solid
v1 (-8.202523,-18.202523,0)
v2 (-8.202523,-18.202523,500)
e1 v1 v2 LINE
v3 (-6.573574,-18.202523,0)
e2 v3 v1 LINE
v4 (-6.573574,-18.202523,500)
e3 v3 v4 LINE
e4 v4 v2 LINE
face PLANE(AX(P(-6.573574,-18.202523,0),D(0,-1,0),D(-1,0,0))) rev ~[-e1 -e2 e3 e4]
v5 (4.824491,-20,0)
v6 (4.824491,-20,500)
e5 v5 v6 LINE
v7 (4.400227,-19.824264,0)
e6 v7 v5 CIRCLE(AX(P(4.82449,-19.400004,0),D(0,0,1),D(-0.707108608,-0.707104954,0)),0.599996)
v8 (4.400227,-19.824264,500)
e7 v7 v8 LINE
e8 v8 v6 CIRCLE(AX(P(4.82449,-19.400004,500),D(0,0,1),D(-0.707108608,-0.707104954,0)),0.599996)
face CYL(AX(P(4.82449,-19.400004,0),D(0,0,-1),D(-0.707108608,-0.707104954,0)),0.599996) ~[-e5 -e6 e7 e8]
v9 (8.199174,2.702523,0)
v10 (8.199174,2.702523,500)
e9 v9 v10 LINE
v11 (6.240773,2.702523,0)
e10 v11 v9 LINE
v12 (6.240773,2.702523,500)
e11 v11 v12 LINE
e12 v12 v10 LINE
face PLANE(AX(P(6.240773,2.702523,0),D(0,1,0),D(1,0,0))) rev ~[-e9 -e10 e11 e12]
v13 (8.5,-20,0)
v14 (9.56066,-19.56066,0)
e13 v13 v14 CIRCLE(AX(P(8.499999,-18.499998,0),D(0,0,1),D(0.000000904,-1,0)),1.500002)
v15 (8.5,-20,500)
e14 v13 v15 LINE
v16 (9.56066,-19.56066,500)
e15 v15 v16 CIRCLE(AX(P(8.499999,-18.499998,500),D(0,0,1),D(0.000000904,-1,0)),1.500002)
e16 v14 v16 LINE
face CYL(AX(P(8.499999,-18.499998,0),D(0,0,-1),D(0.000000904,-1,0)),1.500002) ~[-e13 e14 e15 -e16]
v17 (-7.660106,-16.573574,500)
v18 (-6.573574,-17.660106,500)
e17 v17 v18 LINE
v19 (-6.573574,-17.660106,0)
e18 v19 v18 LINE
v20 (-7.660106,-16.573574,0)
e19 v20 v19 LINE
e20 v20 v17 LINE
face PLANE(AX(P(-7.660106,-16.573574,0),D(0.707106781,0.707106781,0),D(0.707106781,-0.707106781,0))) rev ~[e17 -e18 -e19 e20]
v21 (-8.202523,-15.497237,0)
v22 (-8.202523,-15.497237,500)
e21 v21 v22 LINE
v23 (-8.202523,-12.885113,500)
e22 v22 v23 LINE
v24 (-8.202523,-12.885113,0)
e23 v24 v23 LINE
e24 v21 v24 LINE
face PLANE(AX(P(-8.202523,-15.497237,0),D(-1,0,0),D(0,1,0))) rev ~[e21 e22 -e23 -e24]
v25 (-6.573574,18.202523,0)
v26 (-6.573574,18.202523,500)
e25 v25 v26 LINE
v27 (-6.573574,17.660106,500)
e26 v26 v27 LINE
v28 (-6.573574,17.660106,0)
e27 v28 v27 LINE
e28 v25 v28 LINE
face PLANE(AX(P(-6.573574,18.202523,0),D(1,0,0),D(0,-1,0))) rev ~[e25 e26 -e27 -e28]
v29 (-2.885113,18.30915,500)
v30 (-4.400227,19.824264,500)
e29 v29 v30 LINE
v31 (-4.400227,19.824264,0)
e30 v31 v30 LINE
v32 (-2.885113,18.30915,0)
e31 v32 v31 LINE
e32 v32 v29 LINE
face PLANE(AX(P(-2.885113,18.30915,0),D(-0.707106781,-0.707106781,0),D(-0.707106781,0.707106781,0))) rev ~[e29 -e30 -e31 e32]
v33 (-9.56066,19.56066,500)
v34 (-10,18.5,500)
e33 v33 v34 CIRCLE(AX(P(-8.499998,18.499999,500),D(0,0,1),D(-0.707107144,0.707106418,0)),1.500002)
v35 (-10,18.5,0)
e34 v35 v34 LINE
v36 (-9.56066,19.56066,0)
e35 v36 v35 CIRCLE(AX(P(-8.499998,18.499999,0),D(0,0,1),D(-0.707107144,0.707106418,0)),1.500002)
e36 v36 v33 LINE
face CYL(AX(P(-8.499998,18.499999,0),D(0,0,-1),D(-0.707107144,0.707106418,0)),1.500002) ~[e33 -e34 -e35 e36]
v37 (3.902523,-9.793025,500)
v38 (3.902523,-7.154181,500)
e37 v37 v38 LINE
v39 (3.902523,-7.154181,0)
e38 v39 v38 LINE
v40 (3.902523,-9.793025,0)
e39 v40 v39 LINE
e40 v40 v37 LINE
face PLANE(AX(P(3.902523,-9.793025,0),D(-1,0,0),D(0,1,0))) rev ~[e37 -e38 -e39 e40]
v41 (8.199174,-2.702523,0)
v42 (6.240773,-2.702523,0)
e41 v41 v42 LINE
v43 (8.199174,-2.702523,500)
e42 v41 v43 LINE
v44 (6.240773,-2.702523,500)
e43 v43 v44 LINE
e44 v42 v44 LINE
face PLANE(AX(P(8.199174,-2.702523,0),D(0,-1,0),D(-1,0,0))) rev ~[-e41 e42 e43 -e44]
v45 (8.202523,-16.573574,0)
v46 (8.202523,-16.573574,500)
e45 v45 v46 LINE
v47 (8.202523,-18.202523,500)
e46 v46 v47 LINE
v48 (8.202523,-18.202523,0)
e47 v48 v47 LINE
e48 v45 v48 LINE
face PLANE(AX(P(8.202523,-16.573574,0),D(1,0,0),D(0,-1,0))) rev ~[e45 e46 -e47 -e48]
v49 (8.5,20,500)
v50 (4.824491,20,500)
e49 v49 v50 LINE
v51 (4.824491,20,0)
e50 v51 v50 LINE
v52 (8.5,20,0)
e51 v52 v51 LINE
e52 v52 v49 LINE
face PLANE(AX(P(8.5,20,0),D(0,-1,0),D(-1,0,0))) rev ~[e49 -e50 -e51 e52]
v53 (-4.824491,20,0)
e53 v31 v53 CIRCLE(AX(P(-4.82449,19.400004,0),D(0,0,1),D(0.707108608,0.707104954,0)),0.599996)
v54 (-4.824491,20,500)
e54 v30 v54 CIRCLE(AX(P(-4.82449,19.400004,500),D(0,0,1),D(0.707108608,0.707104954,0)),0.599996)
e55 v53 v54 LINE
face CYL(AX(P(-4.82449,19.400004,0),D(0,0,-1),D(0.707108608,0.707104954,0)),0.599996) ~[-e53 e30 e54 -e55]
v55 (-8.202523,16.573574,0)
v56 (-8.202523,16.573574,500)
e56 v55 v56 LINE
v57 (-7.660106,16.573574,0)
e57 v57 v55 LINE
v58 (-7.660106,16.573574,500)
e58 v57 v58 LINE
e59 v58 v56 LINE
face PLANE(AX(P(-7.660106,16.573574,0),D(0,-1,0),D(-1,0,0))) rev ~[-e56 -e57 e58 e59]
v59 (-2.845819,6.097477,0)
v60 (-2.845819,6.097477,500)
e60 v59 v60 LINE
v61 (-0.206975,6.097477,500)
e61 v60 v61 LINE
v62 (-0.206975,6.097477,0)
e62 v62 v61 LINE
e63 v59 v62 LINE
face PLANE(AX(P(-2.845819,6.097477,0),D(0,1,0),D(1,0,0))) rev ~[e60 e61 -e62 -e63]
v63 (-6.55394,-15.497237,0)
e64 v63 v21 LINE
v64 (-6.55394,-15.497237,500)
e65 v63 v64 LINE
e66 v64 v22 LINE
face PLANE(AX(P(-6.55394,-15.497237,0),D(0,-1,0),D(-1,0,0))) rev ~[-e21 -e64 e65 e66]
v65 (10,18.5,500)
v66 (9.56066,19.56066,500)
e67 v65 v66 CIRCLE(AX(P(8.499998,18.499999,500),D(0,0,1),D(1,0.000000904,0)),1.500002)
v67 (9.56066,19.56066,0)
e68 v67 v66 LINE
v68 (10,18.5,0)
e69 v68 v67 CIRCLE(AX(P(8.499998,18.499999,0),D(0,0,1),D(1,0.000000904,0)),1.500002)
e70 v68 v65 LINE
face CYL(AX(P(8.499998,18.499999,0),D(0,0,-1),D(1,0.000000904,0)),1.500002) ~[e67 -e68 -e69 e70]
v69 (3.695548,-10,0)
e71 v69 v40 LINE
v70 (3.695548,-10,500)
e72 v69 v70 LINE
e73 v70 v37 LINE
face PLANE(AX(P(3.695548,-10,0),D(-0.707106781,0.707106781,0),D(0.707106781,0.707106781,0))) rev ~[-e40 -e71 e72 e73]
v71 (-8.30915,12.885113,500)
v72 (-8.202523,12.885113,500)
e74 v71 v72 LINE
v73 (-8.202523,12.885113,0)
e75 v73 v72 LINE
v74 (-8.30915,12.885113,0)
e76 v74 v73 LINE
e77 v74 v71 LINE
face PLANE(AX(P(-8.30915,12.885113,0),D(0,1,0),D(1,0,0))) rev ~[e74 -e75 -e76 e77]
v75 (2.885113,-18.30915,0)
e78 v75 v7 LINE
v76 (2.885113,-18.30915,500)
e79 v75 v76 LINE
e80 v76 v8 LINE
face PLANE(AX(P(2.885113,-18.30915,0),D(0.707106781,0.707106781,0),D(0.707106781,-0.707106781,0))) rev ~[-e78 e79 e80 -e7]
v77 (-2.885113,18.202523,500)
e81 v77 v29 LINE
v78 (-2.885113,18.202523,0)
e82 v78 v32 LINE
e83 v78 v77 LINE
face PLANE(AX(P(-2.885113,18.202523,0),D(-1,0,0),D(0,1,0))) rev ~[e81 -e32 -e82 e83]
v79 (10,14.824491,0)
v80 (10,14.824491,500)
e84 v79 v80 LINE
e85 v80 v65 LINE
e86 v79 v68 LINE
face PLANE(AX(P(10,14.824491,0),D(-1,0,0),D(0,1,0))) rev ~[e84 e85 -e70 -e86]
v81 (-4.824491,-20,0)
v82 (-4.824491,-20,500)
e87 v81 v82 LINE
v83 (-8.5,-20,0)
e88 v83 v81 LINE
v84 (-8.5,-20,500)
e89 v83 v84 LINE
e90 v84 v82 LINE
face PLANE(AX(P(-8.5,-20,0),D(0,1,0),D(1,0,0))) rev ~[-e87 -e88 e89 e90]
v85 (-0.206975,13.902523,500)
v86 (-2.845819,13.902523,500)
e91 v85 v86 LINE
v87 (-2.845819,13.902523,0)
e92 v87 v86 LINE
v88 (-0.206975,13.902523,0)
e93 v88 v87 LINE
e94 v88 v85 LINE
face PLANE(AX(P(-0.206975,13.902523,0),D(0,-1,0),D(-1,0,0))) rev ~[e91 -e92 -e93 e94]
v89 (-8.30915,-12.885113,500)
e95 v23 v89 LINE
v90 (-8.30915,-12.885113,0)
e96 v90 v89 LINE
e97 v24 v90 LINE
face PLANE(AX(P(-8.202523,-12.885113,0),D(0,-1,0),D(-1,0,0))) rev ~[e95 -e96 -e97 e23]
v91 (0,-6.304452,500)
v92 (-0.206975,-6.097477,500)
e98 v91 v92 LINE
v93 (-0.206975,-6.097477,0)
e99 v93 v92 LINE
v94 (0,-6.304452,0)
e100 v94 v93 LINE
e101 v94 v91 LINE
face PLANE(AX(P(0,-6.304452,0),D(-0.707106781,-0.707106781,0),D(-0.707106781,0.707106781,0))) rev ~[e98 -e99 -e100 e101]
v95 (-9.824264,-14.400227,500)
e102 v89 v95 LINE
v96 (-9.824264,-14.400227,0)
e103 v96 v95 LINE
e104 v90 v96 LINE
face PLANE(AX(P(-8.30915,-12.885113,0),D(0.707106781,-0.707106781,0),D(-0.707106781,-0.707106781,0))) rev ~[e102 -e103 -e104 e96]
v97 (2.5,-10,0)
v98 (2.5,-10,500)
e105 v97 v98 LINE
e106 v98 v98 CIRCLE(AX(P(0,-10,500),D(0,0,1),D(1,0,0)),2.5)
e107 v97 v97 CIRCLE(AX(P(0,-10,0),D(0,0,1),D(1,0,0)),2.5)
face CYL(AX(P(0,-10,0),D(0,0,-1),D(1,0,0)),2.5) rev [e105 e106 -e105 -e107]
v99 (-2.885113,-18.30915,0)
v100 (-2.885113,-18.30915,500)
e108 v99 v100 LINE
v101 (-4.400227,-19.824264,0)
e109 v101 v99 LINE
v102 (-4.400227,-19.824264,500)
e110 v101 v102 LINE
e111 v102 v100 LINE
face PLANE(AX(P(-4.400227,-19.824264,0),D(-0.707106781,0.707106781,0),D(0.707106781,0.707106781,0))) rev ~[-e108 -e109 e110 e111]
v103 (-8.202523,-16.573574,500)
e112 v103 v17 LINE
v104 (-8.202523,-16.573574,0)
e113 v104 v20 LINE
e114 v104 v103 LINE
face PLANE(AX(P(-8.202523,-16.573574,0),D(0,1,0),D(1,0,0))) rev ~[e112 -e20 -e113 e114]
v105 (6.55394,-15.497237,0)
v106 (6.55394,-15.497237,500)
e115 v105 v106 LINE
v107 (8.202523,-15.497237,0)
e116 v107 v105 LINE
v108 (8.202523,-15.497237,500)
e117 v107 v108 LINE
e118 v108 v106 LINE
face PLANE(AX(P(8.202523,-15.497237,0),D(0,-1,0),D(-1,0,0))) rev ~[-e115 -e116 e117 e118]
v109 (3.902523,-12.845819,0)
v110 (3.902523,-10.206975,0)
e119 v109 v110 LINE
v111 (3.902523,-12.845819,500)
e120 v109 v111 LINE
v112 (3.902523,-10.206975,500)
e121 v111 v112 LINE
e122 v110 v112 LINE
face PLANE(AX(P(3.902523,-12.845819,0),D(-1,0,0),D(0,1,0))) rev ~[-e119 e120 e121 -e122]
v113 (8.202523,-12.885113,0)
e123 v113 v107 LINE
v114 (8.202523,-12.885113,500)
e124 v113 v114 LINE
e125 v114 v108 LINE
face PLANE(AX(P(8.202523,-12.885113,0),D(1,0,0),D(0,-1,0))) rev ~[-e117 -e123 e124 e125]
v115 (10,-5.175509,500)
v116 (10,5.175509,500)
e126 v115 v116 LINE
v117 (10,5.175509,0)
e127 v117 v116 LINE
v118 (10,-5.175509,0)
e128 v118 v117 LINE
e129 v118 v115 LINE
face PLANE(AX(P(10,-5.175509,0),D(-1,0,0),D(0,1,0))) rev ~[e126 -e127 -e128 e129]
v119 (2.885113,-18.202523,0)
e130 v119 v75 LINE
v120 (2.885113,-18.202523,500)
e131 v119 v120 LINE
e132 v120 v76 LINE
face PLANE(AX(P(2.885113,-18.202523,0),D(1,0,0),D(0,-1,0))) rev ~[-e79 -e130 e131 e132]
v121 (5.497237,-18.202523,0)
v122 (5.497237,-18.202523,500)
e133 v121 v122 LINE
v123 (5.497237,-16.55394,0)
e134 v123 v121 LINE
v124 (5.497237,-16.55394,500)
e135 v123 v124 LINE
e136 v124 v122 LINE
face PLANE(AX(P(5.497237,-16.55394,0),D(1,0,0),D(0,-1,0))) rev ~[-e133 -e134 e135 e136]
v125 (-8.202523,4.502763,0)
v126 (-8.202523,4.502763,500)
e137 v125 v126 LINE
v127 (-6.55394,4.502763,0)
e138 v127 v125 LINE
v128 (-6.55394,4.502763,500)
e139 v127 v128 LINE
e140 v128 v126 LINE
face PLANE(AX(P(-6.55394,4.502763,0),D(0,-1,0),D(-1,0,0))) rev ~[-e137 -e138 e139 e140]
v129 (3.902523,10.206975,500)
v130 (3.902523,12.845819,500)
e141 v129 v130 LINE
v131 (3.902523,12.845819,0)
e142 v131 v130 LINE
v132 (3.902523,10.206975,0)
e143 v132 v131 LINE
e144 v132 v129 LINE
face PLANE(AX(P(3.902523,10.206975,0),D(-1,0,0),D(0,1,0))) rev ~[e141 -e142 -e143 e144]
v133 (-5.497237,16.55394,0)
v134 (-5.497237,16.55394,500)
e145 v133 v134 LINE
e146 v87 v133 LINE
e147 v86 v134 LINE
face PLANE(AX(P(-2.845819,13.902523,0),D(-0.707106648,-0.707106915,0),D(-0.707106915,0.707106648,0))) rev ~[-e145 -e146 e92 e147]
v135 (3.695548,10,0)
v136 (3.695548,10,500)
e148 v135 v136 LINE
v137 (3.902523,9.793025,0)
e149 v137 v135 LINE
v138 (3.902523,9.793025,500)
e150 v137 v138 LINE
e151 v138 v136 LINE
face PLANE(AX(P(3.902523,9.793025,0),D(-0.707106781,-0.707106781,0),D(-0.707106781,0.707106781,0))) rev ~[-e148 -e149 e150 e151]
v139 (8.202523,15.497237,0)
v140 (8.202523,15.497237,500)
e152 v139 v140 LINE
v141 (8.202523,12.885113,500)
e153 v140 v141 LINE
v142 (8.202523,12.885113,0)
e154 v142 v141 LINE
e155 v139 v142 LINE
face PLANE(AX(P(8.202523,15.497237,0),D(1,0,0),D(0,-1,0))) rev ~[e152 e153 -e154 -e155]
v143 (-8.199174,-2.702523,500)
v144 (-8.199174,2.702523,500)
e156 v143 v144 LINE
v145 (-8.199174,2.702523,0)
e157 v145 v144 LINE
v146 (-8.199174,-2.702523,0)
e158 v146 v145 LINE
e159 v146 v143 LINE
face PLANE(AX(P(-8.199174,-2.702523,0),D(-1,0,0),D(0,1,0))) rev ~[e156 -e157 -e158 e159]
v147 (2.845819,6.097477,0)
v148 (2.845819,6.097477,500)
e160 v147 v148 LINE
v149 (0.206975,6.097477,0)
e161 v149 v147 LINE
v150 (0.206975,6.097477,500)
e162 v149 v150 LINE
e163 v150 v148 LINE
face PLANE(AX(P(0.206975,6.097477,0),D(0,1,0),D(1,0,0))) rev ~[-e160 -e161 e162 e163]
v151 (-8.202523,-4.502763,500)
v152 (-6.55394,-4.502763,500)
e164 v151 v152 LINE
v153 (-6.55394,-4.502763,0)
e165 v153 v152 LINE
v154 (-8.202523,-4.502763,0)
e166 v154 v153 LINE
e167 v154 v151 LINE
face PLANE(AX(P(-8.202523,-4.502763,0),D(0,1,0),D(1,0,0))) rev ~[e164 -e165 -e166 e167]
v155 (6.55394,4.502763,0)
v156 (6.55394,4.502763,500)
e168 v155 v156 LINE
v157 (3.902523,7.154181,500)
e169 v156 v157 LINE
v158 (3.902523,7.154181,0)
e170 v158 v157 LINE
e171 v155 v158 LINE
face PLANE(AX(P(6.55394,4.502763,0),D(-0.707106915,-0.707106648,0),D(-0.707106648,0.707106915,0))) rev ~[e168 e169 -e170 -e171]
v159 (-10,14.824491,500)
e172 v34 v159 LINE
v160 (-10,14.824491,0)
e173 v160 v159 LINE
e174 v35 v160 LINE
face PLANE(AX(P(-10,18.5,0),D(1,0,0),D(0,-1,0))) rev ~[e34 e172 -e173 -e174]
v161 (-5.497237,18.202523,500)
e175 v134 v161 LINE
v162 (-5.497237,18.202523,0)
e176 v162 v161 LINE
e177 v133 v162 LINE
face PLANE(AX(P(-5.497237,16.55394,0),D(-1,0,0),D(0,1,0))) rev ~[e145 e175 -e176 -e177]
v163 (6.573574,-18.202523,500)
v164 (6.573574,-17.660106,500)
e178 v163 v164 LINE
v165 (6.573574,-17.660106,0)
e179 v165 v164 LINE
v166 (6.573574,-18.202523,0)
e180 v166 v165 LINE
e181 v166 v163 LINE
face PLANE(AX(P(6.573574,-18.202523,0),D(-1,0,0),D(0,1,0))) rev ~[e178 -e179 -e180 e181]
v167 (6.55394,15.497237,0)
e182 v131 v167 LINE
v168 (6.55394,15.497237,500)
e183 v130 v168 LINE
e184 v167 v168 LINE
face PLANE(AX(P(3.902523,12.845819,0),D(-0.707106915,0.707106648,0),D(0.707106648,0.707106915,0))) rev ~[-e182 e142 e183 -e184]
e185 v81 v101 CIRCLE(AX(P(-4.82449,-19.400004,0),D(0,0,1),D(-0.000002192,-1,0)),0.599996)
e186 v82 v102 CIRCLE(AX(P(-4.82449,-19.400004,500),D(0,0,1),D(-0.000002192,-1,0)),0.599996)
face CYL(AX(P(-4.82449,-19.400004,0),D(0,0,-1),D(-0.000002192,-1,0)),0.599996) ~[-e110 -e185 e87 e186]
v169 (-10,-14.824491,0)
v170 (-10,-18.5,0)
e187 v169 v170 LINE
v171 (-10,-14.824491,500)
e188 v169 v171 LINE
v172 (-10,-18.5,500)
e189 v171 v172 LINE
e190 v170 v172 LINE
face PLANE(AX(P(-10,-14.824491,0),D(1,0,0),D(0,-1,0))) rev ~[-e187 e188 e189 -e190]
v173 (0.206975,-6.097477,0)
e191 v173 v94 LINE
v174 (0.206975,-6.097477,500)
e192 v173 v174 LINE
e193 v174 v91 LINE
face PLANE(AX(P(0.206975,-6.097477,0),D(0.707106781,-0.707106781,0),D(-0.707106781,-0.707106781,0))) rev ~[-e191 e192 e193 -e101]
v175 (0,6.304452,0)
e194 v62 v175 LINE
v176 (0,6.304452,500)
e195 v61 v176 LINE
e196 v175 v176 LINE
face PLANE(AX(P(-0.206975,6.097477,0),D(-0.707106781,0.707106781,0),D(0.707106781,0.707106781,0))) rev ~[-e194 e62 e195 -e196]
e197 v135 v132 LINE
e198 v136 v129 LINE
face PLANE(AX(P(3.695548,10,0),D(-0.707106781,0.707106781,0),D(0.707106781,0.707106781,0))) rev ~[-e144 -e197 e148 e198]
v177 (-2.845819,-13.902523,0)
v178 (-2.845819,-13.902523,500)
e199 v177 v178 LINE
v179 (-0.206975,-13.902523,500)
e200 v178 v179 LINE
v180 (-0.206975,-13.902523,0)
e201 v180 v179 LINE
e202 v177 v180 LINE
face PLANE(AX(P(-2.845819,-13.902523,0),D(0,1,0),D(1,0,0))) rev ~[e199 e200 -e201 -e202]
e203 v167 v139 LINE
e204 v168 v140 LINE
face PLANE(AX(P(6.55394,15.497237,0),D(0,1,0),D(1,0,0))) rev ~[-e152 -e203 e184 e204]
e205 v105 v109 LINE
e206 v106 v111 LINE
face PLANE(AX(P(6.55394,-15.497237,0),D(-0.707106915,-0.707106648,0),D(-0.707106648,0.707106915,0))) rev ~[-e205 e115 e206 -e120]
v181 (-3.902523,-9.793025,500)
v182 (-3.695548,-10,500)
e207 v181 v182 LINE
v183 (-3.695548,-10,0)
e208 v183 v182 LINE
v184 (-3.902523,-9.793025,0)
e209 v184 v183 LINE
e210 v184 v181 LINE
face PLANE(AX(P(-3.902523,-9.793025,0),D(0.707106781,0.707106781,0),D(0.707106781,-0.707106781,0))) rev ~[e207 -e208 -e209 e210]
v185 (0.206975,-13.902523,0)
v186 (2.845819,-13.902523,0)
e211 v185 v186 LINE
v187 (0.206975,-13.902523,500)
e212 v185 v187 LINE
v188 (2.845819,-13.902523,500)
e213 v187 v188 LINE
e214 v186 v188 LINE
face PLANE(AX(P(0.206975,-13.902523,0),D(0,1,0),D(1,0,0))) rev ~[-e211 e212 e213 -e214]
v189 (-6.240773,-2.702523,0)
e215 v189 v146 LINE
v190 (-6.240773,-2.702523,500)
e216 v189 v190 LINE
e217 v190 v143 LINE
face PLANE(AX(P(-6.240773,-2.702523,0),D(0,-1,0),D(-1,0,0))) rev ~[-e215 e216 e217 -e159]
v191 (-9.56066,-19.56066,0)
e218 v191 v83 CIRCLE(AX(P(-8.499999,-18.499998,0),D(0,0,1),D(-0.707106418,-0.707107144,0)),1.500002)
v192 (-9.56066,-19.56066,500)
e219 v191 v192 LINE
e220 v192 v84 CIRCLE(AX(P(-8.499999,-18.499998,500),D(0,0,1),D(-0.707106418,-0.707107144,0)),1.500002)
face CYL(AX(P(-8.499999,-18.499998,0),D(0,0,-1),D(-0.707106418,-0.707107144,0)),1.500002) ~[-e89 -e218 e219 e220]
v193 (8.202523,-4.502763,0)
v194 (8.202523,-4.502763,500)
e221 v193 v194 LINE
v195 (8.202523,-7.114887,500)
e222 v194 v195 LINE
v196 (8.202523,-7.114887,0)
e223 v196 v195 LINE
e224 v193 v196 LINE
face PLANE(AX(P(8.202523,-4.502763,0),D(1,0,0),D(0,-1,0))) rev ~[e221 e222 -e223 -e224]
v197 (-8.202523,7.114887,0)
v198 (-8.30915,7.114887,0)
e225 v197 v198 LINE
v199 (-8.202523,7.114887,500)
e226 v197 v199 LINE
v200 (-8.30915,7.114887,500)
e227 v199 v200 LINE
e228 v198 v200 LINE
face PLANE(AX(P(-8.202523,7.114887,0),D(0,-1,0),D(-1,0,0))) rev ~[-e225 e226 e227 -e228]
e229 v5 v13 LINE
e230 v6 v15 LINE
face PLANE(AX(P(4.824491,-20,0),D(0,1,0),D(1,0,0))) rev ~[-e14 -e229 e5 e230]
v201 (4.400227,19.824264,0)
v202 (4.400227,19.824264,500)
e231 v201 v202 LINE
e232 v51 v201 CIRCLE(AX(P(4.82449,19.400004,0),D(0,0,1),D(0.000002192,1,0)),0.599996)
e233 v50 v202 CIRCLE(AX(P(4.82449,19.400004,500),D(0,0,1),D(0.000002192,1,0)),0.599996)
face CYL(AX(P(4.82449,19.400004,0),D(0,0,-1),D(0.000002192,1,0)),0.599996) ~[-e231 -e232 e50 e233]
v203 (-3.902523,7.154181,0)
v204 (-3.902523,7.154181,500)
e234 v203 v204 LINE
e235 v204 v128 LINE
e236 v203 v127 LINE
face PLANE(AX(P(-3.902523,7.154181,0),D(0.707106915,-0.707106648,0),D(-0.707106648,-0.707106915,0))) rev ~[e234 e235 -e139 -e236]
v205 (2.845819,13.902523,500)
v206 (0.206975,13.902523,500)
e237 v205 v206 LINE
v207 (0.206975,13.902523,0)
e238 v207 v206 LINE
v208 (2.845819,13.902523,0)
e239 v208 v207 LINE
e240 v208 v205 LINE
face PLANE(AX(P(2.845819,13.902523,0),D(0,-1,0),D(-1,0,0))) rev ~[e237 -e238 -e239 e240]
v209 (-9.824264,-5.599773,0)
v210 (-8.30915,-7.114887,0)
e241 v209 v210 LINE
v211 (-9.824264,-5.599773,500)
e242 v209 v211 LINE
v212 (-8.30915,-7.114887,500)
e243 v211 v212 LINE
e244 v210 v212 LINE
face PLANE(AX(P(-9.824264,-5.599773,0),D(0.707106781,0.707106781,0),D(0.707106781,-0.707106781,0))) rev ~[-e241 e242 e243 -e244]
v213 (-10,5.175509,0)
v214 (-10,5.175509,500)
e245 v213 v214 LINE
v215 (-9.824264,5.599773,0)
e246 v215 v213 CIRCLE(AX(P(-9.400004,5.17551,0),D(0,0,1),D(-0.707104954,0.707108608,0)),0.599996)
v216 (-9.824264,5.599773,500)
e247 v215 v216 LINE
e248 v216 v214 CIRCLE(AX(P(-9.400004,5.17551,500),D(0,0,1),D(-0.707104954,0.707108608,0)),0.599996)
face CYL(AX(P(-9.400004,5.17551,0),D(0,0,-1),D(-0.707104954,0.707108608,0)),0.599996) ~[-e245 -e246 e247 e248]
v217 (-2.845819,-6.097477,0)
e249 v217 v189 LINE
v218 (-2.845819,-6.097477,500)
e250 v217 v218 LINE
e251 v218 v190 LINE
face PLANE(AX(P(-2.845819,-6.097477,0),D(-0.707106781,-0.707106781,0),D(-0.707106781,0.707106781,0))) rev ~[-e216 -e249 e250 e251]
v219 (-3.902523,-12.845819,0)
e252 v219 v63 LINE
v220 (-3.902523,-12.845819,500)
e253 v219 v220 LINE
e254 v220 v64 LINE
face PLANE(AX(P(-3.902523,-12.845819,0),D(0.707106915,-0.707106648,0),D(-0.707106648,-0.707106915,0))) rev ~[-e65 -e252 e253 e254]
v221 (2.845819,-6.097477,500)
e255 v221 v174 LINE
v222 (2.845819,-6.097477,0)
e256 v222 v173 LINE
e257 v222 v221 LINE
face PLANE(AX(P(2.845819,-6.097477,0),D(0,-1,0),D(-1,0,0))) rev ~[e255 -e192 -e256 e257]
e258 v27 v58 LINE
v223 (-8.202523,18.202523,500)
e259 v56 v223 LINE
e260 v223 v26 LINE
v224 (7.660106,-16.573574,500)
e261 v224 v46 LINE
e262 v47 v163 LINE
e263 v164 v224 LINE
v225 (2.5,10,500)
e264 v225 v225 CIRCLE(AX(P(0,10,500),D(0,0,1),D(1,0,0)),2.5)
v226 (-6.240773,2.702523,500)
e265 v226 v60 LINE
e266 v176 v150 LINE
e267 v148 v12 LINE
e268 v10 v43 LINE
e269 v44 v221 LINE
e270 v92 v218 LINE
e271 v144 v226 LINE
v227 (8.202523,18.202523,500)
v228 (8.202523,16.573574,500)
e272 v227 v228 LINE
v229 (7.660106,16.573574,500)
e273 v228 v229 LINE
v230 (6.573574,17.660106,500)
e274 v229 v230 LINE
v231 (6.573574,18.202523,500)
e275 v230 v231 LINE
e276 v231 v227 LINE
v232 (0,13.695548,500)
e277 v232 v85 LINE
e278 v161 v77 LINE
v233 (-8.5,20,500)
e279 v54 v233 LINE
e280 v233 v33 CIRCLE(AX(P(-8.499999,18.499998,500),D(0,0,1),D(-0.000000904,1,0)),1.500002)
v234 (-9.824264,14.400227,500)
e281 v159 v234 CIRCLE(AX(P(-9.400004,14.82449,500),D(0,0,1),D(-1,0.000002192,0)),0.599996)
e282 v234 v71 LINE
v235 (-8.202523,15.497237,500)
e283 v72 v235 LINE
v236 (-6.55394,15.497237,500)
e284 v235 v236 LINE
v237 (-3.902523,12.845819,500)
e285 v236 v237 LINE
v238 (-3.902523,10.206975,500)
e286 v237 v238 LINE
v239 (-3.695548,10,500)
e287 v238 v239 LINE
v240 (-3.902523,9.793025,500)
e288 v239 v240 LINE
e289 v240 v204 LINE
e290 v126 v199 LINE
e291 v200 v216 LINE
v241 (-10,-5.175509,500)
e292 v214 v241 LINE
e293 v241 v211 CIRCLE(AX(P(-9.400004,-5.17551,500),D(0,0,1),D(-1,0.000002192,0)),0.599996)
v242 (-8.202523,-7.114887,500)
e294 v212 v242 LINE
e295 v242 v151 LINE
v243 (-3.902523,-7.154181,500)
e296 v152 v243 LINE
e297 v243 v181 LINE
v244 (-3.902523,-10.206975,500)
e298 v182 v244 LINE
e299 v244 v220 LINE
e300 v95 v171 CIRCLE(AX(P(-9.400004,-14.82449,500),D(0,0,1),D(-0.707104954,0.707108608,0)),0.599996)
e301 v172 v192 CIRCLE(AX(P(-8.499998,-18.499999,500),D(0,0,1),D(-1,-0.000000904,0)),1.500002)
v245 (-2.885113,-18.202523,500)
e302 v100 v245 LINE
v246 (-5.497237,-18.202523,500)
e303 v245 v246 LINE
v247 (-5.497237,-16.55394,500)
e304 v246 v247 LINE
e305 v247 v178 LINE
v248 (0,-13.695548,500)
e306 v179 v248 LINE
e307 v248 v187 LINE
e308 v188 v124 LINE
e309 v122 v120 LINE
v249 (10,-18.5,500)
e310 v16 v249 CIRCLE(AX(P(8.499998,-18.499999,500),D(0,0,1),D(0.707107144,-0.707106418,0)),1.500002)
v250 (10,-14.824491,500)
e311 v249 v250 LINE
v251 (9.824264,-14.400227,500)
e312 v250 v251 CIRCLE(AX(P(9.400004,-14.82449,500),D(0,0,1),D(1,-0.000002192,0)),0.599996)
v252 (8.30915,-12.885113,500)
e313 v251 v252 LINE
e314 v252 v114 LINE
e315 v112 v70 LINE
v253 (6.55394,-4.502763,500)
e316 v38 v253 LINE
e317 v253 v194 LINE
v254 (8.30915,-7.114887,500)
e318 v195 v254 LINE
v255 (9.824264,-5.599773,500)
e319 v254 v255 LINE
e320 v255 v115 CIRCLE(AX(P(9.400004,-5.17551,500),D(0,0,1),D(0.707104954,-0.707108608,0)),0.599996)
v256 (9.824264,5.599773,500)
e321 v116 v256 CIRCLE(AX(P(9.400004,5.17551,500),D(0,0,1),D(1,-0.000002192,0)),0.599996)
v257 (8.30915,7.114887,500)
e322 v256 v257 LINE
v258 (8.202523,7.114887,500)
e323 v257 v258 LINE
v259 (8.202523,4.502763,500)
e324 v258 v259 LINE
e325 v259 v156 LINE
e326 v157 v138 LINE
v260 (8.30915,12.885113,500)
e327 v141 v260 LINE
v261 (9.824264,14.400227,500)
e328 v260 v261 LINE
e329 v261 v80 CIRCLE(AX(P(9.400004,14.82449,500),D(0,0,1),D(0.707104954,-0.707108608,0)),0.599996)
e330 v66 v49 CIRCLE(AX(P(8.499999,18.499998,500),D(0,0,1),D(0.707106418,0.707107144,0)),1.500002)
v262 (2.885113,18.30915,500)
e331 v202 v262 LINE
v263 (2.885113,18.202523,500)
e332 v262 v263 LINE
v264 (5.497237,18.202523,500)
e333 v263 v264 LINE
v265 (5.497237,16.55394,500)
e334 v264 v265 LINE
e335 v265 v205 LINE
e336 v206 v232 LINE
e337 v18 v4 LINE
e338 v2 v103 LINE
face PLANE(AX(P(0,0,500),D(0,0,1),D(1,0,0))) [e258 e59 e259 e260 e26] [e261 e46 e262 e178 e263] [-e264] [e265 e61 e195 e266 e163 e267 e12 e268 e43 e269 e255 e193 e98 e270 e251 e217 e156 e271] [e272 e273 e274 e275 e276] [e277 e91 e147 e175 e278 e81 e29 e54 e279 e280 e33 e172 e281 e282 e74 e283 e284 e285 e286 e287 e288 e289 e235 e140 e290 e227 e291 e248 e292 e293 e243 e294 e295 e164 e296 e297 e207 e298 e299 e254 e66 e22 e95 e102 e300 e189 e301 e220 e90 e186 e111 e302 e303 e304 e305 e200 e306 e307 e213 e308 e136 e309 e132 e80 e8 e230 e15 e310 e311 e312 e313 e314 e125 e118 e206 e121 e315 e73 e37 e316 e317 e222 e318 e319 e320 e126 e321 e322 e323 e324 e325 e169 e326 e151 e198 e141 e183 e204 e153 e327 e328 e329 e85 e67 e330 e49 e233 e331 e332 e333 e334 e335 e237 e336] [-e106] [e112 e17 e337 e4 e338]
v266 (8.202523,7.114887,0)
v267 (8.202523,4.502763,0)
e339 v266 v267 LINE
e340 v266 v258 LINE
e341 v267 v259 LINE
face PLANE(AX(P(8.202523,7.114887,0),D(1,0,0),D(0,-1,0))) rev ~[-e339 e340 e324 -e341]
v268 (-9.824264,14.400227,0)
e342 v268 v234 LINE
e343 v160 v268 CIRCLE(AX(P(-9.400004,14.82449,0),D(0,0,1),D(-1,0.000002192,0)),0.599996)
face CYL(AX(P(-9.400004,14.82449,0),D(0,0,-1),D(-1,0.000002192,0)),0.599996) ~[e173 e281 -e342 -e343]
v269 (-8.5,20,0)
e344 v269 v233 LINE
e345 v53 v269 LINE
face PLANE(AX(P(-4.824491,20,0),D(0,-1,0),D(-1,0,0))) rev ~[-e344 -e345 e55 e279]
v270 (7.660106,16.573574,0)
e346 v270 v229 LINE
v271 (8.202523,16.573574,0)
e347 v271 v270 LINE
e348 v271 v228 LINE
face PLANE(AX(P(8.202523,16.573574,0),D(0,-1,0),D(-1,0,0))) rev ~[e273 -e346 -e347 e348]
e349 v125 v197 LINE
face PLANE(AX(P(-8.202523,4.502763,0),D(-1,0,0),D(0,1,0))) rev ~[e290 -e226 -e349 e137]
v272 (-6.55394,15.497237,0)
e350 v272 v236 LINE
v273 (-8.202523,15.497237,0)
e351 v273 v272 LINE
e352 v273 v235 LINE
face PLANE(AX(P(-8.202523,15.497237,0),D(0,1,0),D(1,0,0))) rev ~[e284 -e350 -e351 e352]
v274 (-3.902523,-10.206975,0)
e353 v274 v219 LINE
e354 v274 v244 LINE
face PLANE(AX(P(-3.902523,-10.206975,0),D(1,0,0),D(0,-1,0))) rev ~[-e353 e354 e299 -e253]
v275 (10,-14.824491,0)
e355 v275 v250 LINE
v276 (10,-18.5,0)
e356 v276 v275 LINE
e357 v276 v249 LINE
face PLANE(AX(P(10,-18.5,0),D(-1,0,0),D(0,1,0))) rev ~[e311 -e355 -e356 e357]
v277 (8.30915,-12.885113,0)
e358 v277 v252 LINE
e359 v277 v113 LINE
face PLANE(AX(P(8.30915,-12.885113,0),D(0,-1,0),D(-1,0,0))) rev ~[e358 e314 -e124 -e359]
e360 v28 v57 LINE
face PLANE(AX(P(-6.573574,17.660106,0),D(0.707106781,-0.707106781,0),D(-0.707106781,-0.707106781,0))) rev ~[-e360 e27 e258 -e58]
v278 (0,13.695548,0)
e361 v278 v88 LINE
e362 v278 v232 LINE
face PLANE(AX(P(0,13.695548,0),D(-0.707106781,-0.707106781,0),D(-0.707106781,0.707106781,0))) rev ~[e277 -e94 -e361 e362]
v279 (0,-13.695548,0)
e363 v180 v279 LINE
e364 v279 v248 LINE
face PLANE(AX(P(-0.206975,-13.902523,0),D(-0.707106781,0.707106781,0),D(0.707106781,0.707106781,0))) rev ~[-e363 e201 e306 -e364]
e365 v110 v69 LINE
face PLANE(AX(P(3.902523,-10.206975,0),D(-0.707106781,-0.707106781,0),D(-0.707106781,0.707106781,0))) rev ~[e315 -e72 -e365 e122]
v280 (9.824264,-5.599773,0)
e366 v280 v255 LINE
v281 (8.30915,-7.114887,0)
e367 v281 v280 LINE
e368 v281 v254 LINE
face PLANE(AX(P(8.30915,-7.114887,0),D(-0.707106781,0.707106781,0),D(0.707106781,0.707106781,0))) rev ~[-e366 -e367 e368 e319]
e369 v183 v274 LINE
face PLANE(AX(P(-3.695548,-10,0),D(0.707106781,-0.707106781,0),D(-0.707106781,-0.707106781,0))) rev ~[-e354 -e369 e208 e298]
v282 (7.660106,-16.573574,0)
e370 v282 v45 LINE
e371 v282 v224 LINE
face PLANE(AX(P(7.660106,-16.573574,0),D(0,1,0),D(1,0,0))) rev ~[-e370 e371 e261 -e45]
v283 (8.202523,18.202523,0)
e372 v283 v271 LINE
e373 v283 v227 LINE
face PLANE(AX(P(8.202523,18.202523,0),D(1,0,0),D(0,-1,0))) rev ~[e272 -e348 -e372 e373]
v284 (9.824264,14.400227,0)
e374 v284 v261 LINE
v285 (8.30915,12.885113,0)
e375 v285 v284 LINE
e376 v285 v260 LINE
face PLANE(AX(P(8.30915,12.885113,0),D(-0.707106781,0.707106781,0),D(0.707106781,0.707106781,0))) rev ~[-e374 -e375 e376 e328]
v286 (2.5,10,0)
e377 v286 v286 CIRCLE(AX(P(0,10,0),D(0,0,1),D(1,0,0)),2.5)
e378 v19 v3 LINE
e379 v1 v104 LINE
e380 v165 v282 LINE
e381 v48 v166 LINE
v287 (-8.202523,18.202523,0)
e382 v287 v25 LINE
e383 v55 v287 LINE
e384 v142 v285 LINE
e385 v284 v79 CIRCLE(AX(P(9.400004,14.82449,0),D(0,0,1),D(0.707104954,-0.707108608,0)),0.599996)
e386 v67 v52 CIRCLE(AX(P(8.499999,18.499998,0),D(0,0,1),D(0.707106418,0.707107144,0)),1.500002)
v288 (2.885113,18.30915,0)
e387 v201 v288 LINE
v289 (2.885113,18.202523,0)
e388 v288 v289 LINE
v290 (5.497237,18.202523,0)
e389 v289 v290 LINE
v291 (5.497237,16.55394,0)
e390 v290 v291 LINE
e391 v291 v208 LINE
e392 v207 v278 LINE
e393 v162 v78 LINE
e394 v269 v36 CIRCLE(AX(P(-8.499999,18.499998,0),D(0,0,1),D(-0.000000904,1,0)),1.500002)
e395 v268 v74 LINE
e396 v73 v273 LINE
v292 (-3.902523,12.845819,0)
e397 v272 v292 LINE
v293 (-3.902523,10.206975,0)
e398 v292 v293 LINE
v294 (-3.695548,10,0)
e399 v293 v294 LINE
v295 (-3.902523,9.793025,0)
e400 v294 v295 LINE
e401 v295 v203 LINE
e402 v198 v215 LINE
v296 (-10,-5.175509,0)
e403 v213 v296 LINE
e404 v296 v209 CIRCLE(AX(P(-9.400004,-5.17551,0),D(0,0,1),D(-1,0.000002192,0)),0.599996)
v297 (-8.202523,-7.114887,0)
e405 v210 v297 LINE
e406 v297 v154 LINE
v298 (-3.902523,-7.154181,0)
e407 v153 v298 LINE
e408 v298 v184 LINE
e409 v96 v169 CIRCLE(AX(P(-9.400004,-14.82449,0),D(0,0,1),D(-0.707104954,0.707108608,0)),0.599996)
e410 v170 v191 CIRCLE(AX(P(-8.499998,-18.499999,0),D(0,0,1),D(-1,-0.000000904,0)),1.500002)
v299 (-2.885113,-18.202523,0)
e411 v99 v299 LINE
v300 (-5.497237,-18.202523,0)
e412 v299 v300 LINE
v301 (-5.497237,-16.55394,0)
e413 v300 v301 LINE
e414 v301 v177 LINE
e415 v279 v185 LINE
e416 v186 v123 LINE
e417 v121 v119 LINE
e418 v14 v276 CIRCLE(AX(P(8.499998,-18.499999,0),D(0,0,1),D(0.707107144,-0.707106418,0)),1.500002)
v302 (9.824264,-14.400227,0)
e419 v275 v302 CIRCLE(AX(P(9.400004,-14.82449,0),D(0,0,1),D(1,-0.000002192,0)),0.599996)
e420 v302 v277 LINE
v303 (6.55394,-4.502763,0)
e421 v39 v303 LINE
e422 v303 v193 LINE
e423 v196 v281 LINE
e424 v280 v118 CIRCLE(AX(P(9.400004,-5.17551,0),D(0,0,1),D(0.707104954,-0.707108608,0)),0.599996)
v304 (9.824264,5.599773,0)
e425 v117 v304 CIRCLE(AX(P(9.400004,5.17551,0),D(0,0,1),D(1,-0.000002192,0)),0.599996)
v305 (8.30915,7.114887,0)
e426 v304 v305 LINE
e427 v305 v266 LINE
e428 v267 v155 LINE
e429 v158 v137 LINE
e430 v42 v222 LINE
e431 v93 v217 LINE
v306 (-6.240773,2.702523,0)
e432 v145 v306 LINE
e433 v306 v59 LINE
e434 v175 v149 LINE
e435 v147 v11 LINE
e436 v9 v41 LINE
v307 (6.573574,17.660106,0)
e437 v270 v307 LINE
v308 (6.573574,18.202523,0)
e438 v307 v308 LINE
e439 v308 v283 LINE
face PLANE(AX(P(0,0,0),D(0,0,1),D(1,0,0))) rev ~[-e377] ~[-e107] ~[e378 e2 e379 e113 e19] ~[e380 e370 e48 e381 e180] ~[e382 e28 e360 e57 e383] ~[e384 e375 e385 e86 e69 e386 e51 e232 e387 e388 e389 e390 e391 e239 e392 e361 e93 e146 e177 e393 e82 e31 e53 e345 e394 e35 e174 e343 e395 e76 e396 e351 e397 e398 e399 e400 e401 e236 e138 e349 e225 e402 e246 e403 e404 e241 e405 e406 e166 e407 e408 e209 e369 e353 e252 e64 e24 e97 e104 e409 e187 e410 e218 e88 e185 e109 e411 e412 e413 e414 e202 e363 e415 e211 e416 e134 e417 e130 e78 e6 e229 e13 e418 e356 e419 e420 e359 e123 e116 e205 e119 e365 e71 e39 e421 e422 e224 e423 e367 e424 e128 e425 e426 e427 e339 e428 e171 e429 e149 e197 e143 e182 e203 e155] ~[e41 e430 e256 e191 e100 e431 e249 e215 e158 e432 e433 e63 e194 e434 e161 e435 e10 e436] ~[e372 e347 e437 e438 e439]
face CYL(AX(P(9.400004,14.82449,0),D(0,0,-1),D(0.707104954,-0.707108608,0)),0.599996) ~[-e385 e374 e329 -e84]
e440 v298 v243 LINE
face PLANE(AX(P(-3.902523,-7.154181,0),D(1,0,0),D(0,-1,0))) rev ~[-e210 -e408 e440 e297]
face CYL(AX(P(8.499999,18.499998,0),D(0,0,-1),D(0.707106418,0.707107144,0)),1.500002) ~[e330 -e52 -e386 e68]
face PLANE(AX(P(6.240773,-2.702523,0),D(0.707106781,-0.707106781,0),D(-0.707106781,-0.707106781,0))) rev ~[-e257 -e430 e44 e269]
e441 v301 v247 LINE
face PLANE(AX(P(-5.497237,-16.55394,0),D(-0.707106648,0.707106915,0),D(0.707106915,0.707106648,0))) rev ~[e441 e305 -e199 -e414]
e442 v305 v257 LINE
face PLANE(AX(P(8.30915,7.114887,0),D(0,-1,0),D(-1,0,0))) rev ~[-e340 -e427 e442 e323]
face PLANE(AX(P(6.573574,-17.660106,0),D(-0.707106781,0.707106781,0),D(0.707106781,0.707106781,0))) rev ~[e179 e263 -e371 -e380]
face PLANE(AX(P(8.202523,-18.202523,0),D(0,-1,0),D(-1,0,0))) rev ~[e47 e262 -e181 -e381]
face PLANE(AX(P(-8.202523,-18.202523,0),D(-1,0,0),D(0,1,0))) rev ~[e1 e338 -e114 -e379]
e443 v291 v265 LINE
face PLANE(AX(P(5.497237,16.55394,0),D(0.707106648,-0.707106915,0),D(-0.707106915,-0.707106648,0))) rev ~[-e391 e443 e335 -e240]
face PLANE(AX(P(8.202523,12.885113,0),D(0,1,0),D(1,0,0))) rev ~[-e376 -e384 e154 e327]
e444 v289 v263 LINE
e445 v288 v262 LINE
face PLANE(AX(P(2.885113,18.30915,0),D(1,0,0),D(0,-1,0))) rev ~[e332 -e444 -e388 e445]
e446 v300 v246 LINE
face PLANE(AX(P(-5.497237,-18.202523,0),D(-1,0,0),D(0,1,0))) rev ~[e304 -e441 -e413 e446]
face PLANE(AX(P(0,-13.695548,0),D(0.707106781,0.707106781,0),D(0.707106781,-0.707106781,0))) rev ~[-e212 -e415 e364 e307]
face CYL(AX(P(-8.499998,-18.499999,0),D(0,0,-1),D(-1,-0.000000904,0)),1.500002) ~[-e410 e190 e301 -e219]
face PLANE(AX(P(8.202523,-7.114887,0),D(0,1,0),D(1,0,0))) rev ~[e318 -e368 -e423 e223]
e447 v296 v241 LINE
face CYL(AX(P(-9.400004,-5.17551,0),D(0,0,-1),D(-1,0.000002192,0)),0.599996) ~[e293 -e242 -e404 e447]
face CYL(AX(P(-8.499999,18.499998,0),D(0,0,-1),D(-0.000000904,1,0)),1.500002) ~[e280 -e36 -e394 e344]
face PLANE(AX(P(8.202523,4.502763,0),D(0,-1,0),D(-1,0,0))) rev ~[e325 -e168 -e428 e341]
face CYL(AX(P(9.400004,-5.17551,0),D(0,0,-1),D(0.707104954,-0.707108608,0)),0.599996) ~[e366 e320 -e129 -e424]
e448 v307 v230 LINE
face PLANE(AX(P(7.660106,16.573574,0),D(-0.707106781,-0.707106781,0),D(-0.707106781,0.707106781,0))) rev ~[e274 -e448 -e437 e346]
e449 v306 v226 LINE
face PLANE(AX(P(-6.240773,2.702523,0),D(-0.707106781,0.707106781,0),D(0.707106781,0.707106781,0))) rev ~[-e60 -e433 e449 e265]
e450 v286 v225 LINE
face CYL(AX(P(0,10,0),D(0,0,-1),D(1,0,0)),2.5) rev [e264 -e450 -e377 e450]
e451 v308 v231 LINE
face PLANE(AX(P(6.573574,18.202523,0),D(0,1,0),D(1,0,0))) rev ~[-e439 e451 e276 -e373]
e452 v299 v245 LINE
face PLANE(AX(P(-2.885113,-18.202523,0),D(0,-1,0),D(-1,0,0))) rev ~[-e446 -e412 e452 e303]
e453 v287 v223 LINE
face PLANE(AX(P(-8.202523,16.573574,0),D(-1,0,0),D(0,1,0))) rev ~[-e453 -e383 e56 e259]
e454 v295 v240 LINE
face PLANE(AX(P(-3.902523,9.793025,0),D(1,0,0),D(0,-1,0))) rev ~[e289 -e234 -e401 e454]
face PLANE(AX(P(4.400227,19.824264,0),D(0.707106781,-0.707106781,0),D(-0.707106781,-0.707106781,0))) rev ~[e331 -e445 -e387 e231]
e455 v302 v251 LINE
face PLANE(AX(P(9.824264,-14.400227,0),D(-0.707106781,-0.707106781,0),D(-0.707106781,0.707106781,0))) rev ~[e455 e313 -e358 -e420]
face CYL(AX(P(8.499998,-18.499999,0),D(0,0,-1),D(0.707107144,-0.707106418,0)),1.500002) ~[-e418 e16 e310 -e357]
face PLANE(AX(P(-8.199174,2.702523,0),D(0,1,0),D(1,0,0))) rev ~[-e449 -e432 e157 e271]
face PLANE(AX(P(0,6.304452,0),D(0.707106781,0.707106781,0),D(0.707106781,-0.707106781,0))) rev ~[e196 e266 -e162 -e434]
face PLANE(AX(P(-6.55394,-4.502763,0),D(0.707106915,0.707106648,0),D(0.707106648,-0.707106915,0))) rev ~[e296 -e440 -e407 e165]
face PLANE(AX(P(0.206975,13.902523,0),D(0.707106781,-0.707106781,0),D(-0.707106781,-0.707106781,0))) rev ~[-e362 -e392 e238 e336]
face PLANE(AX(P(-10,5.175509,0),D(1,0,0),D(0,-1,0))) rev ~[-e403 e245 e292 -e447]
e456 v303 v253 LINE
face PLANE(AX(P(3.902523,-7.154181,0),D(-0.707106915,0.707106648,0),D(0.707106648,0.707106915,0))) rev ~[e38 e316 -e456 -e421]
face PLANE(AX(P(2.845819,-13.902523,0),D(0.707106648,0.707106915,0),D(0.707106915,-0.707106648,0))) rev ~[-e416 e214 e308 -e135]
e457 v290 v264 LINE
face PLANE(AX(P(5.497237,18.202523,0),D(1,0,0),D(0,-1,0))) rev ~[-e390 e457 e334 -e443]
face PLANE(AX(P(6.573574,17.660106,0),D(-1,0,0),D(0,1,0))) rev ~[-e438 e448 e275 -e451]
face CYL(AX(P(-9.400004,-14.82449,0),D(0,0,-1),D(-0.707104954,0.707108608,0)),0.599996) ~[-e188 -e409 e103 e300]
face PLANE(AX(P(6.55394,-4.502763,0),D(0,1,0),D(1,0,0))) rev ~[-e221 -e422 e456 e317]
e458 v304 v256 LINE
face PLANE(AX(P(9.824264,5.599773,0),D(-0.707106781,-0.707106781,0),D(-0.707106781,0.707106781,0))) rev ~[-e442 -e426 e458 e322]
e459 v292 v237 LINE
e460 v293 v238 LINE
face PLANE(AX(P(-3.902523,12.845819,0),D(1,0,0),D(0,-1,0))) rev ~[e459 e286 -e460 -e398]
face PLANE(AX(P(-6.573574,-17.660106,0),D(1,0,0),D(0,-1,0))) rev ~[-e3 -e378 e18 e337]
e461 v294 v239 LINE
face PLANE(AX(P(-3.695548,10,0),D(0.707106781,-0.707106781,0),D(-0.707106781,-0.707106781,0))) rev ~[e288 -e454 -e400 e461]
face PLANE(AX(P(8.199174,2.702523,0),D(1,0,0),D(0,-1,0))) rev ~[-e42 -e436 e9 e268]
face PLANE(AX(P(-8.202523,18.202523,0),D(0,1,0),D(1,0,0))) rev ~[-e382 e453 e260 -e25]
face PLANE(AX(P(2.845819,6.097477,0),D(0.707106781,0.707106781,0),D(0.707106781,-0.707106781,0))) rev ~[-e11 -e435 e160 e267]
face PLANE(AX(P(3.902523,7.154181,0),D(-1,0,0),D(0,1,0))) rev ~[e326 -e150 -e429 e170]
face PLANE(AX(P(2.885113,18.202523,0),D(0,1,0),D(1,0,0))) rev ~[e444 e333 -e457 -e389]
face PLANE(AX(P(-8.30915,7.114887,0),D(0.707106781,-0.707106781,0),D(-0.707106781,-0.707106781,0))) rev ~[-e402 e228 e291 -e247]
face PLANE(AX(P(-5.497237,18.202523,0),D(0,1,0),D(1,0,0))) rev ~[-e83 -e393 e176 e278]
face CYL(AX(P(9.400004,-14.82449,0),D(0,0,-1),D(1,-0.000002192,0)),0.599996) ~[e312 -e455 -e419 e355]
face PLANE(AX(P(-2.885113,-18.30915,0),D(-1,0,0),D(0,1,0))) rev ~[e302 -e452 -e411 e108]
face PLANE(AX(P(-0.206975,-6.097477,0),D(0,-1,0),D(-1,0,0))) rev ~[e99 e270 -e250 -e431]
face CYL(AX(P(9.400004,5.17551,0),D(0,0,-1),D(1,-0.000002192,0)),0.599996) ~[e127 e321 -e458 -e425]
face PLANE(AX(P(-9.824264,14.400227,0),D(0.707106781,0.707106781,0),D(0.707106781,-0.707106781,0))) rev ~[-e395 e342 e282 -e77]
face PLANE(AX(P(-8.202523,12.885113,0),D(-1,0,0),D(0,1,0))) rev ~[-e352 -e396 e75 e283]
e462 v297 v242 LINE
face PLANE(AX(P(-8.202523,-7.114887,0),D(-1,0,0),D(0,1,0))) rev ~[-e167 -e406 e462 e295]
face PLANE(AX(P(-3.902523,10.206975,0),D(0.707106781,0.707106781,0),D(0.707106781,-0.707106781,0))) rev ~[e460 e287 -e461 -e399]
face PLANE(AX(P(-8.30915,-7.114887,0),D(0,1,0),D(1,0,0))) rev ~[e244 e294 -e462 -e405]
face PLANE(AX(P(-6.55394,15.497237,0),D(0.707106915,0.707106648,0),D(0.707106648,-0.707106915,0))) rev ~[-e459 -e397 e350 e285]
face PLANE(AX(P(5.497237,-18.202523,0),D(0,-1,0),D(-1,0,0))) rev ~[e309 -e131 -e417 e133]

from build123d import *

# Parameters (mm, degrees)
F0_R     = 2.5
F1_DEPTH = 500


with BuildPart() as f1:
    # F0 (on Top) → F1 (new body)
    with BuildSketch(Plane.XY):
        with BuildLine():
            Line((-0.206975, 13.902523), (-2.845819, 13.902523))
            Line((-2.845819, 13.902523), (-5.497237, 16.55394))
            Line((-5.497237, 16.55394), (-5.497237, 18.202523))
            Line((-5.497237, 18.202523), (-2.885113, 18.202523))
            Line((-2.885113, 18.202523), (-2.885113, 18.30915))
            Line((-2.885113, 18.30915), (-4.400227, 19.824264))
            ThreePointArc((-4.400227, 19.824264), (-4.594881, 19.954328), (-4.824491, 20))
            Line((-4.824491, 20), (-8.5, 20))
            ThreePointArc((-8.5, 20), (-9.074025, 19.885819), (-9.56066, 19.56066))
            ThreePointArc((-9.56066, 19.56066), (-9.885819, 19.074025), (-10, 18.5))
            Line((-10, 18.5), (-10, 14.824491))
            ThreePointArc((-10, 14.824491), (-9.954328, 14.594881), (-9.824264, 14.400227))
            Line((-9.824264, 14.400227), (-8.30915, 12.885113))
            Line((-8.30915, 12.885113), (-8.202523, 12.885113))
            Line((-8.202523, 12.885113), (-8.202523, 15.497237))
            Line((-8.202523, 15.497237), (-6.55394, 15.497237))
            Line((-6.55394, 15.497237), (-3.902523, 12.845819))
            Line((-3.902523, 12.845819), (-3.902523, 10.206975))
            Line((-3.902523, 10.206975), (-3.695548, 10))
            Line((-3.695548, 10), (-3.902523, 9.793025))
            Line((-3.902523, 9.793025), (-3.902523, 7.154181))
            Line((-3.902523, 7.154181), (-6.55394, 4.502763))
            Line((-6.55394, 4.502763), (-8.202523, 4.502763))
            Line((-8.202523, 4.502763), (-8.202523, 7.114887))
            Line((-8.202523, 7.114887), (-8.30915, 7.114887))
            Line((-8.30915, 7.114887), (-9.824264, 5.599773))
            ThreePointArc((-9.824264, 5.599773), (-9.954328, 5.405119), (-10, 5.175509))
            Line((-10, 5.175509), (-10, 0))
            Line((-10, 0), (-10, -5.175509))
            ThreePointArc((-10, -5.175509), (-9.954328, -5.405119), (-9.824264, -5.599773))
            Line((-9.824264, -5.599773), (-8.30915, -7.114887))
            Line((-8.30915, -7.114887), (-8.202523, -7.114887))
            Line((-8.202523, -7.114887), (-8.202523, -4.502763))
            Line((-8.202523, -4.502763), (-6.55394, -4.502763))
            Line((-6.55394, -4.502763), (-3.902523, -7.154181))
            Line((-3.902523, -7.154181), (-3.902523, -9.793025))
            Line((-3.902523, -9.793025), (-3.695548, -10))
            Line((-3.695548, -10), (-3.902523, -10.206975))
            Line((-3.902523, -10.206975), (-3.902523, -12.845819))
            Line((-3.902523, -12.845819), (-6.55394, -15.497237))
            Line((-6.55394, -15.497237), (-8.202523, -15.497237))
            Line((-8.202523, -15.497237), (-8.202523, -12.885113))
            Line((-8.202523, -12.885113), (-8.30915, -12.885113))
            Line((-8.30915, -12.885113), (-9.824264, -14.400227))
            ThreePointArc((-9.824264, -14.400227), (-9.954328, -14.594881), (-10, -14.824491))
            Line((-10, -14.824491), (-10, -18.5))
            ThreePointArc((-10, -18.5), (-9.885819, -19.074025), (-9.56066, -19.56066))
            ThreePointArc((-9.56066, -19.56066), (-9.074025, -19.885819), (-8.5, -20))
            Line((-8.5, -20), (-4.824491, -20))
            ThreePointArc((-4.824491, -20), (-4.594881, -19.954328), (-4.400227, -19.824264))
            Line((-4.400227, -19.824264), (-2.885113, -18.30915))
            Line((-2.885113, -18.30915), (-2.885113, -18.202523))
            Line((-2.885113, -18.202523), (-5.497237, -18.202523))
            Line((-5.497237, -18.202523), (-5.497237, -16.55394))
            Line((-5.497237, -16.55394), (-2.845819, -13.902523))
            Line((-2.845819, -13.902523), (-0.206975, -13.902523))
            Line((-0.206975, -13.902523), (0, -13.695548))
            Line((0, -13.695548), (0.206975, -13.902523))
            Line((0.206975, -13.902523), (2.845819, -13.902523))
            Line((2.845819, -13.902523), (5.497237, -16.55394))
            Line((5.497237, -16.55394), (5.497237, -18.202523))
            Line((5.497237, -18.202523), (2.885113, -18.202523))
            Line((2.885113, -18.202523), (2.885113, -18.30915))
            Line((2.885113, -18.30915), (4.400227, -19.824264))
            ThreePointArc((4.400227, -19.824264), (4.594881, -19.954328), (4.824491, -20))
            Line((4.824491, -20), (8.5, -20))
            ThreePointArc((8.5, -20), (9.074025, -19.885819), (9.56066, -19.56066))
            ThreePointArc((9.56066, -19.56066), (9.885819, -19.074025), (10, -18.5))
            Line((10, -18.5), (10, -14.824491))
            ThreePointArc((10, -14.824491), (9.954328, -14.594881), (9.824264, -14.400227))
            Line((9.824264, -14.400227), (8.30915, -12.885113))
            Line((8.30915, -12.885113), (8.202523, -12.885113))
            Line((8.202523, -12.885113), (8.202523, -15.497237))
            Line((8.202523, -15.497237), (6.55394, -15.497237))
            Line((6.55394, -15.497237), (3.902523, -12.845819))
            Line((3.902523, -12.845819), (3.902523, -10.206975))
            Line((3.902523, -10.206975), (3.695548, -10))
            Line((3.695548, -10), (3.902523, -9.793025))
            Line((3.902523, -9.793025), (3.902523, -7.154181))
            Line((3.902523, -7.154181), (6.55394, -4.502763))
            Line((6.55394, -4.502763), (8.202523, -4.502763))
            Line((8.202523, -4.502763), (8.202523, -7.114887))
            Line((8.202523, -7.114887), (8.30915, -7.114887))
            Line((8.30915, -7.114887), (9.824264, -5.599773))
            ThreePointArc((9.824264, -5.599773), (9.954328, -5.405119), (10, -5.175509))
            Line((10, -5.175509), (10, 0))
            Line((10, 0), (10, 5.175509))
            ThreePointArc((10, 5.175509), (9.954328, 5.405119), (9.824264, 5.599773))
            Line((9.824264, 5.599773), (8.30915, 7.114887))
            Line((8.30915, 7.114887), (8.202523, 7.114887))
            Line((8.202523, 7.114887), (8.202523, 4.502763))
            Line((8.202523, 4.502763), (6.55394, 4.502763))
            Line((6.55394, 4.502763), (3.902523, 7.154181))
            Line((3.902523, 7.154181), (3.902523, 9.793025))
            Line((3.902523, 9.793025), (3.695548, 10))
            Line((3.695548, 10), (3.902523, 10.206975))
            Line((3.902523, 10.206975), (3.902523, 12.845819))
            Line((3.902523, 12.845819), (6.55394, 15.497237))
            Line((6.55394, 15.497237), (8.202523, 15.497237))
            Line((8.202523, 15.497237), (8.202523, 12.885113))
            Line((8.202523, 12.885113), (8.30915, 12.885113))
            Line((8.30915, 12.885113), (9.824264, 14.400227))
            ThreePointArc((9.824264, 14.400227), (9.954328, 14.594881), (10, 14.824491))
            Line((10, 14.824491), (10, 18.5))
            ThreePointArc((10, 18.5), (9.885819, 19.074025), (9.56066, 19.56066))
            ThreePointArc((9.56066, 19.56066), (9.074025, 19.885819), (8.5, 20))
            Line((8.5, 20), (4.824491, 20))
            ThreePointArc((4.824491, 20), (4.594881, 19.954328), (4.400227, 19.824264))
            Line((4.400227, 19.824264), (2.885113, 18.30915))
            Line((2.885113, 18.30915), (2.885113, 18.202523))
            Line((2.885113, 18.202523), (5.497237, 18.202523))
            Line((5.497237, 18.202523), (5.497237, 16.55394))
            Line((5.497237, 16.55394), (2.845819, 13.902523))
            Line((2.845819, 13.902523), (0.206975, 13.902523))
            Line((0.206975, 13.902523), (0, 13.695548))
            Line((0, 13.695548), (-0.206975, 13.902523))
        make_face()
        Polygon((-7.11684, -17.11684), (-6.573574, -17.660106), (-6.573574, -18.202523), (-8.202523, -18.202523), (-8.202523, -16.573574), (-7.660106, -16.573574), align=None, mode=Mode.SUBTRACT)
        Polygon((7.11684, -17.11684), (7.660106, -16.573574), (8.202523, -16.573574), (8.202523, -18.202523), (6.573574, -18.202523), (6.573574, -17.660106), align=None, mode=Mode.SUBTRACT)
        with Locations((0, -10)):
            Circle(F0_R, mode=Mode.SUBTRACT)
        Polygon((-6.573574, 18.202523), (-6.573574, 17.660106), (-7.11684, 17.11684), (-7.660106, 16.573574), (-8.202523, 16.573574), (-8.202523, 18.202523), align=None, mode=Mode.SUBTRACT)
        Polygon((0.206975, 6.097477), (2.845819, 6.097477), (6.240773, 2.702523), (8.199174, 2.702523), (8.199174, 0), (8.199174, -2.702523), (6.240773, -2.702523), (2.845819, -6.097477), (0.206975, -6.097477), (0, -6.304452), (-0.206975, -6.097477), (-2.845819, -6.097477), (-6.240773, -2.702523), (-8.199174, -2.702523), (-8.199174, 0), (-8.199174, 2.702523), (-6.240773, 2.702523), (-2.845819, 6.097477), (-0.206975, 6.097477), (0, 6.304452), align=None, mode=Mode.SUBTRACT)
        with Locations((0, 10)):
            Circle(F0_R, mode=Mode.SUBTRACT)
        Polygon((7.11684, 17.11684), (6.573574, 17.660106), (6.573574, 18.202523), (8.202523, 18.202523), (8.202523, 16.573574), (7.660106, 16.573574), align=None, mode=Mode.SUBTRACT)
    extrude(amount=F1_DEPTH)


solid = f1.part
